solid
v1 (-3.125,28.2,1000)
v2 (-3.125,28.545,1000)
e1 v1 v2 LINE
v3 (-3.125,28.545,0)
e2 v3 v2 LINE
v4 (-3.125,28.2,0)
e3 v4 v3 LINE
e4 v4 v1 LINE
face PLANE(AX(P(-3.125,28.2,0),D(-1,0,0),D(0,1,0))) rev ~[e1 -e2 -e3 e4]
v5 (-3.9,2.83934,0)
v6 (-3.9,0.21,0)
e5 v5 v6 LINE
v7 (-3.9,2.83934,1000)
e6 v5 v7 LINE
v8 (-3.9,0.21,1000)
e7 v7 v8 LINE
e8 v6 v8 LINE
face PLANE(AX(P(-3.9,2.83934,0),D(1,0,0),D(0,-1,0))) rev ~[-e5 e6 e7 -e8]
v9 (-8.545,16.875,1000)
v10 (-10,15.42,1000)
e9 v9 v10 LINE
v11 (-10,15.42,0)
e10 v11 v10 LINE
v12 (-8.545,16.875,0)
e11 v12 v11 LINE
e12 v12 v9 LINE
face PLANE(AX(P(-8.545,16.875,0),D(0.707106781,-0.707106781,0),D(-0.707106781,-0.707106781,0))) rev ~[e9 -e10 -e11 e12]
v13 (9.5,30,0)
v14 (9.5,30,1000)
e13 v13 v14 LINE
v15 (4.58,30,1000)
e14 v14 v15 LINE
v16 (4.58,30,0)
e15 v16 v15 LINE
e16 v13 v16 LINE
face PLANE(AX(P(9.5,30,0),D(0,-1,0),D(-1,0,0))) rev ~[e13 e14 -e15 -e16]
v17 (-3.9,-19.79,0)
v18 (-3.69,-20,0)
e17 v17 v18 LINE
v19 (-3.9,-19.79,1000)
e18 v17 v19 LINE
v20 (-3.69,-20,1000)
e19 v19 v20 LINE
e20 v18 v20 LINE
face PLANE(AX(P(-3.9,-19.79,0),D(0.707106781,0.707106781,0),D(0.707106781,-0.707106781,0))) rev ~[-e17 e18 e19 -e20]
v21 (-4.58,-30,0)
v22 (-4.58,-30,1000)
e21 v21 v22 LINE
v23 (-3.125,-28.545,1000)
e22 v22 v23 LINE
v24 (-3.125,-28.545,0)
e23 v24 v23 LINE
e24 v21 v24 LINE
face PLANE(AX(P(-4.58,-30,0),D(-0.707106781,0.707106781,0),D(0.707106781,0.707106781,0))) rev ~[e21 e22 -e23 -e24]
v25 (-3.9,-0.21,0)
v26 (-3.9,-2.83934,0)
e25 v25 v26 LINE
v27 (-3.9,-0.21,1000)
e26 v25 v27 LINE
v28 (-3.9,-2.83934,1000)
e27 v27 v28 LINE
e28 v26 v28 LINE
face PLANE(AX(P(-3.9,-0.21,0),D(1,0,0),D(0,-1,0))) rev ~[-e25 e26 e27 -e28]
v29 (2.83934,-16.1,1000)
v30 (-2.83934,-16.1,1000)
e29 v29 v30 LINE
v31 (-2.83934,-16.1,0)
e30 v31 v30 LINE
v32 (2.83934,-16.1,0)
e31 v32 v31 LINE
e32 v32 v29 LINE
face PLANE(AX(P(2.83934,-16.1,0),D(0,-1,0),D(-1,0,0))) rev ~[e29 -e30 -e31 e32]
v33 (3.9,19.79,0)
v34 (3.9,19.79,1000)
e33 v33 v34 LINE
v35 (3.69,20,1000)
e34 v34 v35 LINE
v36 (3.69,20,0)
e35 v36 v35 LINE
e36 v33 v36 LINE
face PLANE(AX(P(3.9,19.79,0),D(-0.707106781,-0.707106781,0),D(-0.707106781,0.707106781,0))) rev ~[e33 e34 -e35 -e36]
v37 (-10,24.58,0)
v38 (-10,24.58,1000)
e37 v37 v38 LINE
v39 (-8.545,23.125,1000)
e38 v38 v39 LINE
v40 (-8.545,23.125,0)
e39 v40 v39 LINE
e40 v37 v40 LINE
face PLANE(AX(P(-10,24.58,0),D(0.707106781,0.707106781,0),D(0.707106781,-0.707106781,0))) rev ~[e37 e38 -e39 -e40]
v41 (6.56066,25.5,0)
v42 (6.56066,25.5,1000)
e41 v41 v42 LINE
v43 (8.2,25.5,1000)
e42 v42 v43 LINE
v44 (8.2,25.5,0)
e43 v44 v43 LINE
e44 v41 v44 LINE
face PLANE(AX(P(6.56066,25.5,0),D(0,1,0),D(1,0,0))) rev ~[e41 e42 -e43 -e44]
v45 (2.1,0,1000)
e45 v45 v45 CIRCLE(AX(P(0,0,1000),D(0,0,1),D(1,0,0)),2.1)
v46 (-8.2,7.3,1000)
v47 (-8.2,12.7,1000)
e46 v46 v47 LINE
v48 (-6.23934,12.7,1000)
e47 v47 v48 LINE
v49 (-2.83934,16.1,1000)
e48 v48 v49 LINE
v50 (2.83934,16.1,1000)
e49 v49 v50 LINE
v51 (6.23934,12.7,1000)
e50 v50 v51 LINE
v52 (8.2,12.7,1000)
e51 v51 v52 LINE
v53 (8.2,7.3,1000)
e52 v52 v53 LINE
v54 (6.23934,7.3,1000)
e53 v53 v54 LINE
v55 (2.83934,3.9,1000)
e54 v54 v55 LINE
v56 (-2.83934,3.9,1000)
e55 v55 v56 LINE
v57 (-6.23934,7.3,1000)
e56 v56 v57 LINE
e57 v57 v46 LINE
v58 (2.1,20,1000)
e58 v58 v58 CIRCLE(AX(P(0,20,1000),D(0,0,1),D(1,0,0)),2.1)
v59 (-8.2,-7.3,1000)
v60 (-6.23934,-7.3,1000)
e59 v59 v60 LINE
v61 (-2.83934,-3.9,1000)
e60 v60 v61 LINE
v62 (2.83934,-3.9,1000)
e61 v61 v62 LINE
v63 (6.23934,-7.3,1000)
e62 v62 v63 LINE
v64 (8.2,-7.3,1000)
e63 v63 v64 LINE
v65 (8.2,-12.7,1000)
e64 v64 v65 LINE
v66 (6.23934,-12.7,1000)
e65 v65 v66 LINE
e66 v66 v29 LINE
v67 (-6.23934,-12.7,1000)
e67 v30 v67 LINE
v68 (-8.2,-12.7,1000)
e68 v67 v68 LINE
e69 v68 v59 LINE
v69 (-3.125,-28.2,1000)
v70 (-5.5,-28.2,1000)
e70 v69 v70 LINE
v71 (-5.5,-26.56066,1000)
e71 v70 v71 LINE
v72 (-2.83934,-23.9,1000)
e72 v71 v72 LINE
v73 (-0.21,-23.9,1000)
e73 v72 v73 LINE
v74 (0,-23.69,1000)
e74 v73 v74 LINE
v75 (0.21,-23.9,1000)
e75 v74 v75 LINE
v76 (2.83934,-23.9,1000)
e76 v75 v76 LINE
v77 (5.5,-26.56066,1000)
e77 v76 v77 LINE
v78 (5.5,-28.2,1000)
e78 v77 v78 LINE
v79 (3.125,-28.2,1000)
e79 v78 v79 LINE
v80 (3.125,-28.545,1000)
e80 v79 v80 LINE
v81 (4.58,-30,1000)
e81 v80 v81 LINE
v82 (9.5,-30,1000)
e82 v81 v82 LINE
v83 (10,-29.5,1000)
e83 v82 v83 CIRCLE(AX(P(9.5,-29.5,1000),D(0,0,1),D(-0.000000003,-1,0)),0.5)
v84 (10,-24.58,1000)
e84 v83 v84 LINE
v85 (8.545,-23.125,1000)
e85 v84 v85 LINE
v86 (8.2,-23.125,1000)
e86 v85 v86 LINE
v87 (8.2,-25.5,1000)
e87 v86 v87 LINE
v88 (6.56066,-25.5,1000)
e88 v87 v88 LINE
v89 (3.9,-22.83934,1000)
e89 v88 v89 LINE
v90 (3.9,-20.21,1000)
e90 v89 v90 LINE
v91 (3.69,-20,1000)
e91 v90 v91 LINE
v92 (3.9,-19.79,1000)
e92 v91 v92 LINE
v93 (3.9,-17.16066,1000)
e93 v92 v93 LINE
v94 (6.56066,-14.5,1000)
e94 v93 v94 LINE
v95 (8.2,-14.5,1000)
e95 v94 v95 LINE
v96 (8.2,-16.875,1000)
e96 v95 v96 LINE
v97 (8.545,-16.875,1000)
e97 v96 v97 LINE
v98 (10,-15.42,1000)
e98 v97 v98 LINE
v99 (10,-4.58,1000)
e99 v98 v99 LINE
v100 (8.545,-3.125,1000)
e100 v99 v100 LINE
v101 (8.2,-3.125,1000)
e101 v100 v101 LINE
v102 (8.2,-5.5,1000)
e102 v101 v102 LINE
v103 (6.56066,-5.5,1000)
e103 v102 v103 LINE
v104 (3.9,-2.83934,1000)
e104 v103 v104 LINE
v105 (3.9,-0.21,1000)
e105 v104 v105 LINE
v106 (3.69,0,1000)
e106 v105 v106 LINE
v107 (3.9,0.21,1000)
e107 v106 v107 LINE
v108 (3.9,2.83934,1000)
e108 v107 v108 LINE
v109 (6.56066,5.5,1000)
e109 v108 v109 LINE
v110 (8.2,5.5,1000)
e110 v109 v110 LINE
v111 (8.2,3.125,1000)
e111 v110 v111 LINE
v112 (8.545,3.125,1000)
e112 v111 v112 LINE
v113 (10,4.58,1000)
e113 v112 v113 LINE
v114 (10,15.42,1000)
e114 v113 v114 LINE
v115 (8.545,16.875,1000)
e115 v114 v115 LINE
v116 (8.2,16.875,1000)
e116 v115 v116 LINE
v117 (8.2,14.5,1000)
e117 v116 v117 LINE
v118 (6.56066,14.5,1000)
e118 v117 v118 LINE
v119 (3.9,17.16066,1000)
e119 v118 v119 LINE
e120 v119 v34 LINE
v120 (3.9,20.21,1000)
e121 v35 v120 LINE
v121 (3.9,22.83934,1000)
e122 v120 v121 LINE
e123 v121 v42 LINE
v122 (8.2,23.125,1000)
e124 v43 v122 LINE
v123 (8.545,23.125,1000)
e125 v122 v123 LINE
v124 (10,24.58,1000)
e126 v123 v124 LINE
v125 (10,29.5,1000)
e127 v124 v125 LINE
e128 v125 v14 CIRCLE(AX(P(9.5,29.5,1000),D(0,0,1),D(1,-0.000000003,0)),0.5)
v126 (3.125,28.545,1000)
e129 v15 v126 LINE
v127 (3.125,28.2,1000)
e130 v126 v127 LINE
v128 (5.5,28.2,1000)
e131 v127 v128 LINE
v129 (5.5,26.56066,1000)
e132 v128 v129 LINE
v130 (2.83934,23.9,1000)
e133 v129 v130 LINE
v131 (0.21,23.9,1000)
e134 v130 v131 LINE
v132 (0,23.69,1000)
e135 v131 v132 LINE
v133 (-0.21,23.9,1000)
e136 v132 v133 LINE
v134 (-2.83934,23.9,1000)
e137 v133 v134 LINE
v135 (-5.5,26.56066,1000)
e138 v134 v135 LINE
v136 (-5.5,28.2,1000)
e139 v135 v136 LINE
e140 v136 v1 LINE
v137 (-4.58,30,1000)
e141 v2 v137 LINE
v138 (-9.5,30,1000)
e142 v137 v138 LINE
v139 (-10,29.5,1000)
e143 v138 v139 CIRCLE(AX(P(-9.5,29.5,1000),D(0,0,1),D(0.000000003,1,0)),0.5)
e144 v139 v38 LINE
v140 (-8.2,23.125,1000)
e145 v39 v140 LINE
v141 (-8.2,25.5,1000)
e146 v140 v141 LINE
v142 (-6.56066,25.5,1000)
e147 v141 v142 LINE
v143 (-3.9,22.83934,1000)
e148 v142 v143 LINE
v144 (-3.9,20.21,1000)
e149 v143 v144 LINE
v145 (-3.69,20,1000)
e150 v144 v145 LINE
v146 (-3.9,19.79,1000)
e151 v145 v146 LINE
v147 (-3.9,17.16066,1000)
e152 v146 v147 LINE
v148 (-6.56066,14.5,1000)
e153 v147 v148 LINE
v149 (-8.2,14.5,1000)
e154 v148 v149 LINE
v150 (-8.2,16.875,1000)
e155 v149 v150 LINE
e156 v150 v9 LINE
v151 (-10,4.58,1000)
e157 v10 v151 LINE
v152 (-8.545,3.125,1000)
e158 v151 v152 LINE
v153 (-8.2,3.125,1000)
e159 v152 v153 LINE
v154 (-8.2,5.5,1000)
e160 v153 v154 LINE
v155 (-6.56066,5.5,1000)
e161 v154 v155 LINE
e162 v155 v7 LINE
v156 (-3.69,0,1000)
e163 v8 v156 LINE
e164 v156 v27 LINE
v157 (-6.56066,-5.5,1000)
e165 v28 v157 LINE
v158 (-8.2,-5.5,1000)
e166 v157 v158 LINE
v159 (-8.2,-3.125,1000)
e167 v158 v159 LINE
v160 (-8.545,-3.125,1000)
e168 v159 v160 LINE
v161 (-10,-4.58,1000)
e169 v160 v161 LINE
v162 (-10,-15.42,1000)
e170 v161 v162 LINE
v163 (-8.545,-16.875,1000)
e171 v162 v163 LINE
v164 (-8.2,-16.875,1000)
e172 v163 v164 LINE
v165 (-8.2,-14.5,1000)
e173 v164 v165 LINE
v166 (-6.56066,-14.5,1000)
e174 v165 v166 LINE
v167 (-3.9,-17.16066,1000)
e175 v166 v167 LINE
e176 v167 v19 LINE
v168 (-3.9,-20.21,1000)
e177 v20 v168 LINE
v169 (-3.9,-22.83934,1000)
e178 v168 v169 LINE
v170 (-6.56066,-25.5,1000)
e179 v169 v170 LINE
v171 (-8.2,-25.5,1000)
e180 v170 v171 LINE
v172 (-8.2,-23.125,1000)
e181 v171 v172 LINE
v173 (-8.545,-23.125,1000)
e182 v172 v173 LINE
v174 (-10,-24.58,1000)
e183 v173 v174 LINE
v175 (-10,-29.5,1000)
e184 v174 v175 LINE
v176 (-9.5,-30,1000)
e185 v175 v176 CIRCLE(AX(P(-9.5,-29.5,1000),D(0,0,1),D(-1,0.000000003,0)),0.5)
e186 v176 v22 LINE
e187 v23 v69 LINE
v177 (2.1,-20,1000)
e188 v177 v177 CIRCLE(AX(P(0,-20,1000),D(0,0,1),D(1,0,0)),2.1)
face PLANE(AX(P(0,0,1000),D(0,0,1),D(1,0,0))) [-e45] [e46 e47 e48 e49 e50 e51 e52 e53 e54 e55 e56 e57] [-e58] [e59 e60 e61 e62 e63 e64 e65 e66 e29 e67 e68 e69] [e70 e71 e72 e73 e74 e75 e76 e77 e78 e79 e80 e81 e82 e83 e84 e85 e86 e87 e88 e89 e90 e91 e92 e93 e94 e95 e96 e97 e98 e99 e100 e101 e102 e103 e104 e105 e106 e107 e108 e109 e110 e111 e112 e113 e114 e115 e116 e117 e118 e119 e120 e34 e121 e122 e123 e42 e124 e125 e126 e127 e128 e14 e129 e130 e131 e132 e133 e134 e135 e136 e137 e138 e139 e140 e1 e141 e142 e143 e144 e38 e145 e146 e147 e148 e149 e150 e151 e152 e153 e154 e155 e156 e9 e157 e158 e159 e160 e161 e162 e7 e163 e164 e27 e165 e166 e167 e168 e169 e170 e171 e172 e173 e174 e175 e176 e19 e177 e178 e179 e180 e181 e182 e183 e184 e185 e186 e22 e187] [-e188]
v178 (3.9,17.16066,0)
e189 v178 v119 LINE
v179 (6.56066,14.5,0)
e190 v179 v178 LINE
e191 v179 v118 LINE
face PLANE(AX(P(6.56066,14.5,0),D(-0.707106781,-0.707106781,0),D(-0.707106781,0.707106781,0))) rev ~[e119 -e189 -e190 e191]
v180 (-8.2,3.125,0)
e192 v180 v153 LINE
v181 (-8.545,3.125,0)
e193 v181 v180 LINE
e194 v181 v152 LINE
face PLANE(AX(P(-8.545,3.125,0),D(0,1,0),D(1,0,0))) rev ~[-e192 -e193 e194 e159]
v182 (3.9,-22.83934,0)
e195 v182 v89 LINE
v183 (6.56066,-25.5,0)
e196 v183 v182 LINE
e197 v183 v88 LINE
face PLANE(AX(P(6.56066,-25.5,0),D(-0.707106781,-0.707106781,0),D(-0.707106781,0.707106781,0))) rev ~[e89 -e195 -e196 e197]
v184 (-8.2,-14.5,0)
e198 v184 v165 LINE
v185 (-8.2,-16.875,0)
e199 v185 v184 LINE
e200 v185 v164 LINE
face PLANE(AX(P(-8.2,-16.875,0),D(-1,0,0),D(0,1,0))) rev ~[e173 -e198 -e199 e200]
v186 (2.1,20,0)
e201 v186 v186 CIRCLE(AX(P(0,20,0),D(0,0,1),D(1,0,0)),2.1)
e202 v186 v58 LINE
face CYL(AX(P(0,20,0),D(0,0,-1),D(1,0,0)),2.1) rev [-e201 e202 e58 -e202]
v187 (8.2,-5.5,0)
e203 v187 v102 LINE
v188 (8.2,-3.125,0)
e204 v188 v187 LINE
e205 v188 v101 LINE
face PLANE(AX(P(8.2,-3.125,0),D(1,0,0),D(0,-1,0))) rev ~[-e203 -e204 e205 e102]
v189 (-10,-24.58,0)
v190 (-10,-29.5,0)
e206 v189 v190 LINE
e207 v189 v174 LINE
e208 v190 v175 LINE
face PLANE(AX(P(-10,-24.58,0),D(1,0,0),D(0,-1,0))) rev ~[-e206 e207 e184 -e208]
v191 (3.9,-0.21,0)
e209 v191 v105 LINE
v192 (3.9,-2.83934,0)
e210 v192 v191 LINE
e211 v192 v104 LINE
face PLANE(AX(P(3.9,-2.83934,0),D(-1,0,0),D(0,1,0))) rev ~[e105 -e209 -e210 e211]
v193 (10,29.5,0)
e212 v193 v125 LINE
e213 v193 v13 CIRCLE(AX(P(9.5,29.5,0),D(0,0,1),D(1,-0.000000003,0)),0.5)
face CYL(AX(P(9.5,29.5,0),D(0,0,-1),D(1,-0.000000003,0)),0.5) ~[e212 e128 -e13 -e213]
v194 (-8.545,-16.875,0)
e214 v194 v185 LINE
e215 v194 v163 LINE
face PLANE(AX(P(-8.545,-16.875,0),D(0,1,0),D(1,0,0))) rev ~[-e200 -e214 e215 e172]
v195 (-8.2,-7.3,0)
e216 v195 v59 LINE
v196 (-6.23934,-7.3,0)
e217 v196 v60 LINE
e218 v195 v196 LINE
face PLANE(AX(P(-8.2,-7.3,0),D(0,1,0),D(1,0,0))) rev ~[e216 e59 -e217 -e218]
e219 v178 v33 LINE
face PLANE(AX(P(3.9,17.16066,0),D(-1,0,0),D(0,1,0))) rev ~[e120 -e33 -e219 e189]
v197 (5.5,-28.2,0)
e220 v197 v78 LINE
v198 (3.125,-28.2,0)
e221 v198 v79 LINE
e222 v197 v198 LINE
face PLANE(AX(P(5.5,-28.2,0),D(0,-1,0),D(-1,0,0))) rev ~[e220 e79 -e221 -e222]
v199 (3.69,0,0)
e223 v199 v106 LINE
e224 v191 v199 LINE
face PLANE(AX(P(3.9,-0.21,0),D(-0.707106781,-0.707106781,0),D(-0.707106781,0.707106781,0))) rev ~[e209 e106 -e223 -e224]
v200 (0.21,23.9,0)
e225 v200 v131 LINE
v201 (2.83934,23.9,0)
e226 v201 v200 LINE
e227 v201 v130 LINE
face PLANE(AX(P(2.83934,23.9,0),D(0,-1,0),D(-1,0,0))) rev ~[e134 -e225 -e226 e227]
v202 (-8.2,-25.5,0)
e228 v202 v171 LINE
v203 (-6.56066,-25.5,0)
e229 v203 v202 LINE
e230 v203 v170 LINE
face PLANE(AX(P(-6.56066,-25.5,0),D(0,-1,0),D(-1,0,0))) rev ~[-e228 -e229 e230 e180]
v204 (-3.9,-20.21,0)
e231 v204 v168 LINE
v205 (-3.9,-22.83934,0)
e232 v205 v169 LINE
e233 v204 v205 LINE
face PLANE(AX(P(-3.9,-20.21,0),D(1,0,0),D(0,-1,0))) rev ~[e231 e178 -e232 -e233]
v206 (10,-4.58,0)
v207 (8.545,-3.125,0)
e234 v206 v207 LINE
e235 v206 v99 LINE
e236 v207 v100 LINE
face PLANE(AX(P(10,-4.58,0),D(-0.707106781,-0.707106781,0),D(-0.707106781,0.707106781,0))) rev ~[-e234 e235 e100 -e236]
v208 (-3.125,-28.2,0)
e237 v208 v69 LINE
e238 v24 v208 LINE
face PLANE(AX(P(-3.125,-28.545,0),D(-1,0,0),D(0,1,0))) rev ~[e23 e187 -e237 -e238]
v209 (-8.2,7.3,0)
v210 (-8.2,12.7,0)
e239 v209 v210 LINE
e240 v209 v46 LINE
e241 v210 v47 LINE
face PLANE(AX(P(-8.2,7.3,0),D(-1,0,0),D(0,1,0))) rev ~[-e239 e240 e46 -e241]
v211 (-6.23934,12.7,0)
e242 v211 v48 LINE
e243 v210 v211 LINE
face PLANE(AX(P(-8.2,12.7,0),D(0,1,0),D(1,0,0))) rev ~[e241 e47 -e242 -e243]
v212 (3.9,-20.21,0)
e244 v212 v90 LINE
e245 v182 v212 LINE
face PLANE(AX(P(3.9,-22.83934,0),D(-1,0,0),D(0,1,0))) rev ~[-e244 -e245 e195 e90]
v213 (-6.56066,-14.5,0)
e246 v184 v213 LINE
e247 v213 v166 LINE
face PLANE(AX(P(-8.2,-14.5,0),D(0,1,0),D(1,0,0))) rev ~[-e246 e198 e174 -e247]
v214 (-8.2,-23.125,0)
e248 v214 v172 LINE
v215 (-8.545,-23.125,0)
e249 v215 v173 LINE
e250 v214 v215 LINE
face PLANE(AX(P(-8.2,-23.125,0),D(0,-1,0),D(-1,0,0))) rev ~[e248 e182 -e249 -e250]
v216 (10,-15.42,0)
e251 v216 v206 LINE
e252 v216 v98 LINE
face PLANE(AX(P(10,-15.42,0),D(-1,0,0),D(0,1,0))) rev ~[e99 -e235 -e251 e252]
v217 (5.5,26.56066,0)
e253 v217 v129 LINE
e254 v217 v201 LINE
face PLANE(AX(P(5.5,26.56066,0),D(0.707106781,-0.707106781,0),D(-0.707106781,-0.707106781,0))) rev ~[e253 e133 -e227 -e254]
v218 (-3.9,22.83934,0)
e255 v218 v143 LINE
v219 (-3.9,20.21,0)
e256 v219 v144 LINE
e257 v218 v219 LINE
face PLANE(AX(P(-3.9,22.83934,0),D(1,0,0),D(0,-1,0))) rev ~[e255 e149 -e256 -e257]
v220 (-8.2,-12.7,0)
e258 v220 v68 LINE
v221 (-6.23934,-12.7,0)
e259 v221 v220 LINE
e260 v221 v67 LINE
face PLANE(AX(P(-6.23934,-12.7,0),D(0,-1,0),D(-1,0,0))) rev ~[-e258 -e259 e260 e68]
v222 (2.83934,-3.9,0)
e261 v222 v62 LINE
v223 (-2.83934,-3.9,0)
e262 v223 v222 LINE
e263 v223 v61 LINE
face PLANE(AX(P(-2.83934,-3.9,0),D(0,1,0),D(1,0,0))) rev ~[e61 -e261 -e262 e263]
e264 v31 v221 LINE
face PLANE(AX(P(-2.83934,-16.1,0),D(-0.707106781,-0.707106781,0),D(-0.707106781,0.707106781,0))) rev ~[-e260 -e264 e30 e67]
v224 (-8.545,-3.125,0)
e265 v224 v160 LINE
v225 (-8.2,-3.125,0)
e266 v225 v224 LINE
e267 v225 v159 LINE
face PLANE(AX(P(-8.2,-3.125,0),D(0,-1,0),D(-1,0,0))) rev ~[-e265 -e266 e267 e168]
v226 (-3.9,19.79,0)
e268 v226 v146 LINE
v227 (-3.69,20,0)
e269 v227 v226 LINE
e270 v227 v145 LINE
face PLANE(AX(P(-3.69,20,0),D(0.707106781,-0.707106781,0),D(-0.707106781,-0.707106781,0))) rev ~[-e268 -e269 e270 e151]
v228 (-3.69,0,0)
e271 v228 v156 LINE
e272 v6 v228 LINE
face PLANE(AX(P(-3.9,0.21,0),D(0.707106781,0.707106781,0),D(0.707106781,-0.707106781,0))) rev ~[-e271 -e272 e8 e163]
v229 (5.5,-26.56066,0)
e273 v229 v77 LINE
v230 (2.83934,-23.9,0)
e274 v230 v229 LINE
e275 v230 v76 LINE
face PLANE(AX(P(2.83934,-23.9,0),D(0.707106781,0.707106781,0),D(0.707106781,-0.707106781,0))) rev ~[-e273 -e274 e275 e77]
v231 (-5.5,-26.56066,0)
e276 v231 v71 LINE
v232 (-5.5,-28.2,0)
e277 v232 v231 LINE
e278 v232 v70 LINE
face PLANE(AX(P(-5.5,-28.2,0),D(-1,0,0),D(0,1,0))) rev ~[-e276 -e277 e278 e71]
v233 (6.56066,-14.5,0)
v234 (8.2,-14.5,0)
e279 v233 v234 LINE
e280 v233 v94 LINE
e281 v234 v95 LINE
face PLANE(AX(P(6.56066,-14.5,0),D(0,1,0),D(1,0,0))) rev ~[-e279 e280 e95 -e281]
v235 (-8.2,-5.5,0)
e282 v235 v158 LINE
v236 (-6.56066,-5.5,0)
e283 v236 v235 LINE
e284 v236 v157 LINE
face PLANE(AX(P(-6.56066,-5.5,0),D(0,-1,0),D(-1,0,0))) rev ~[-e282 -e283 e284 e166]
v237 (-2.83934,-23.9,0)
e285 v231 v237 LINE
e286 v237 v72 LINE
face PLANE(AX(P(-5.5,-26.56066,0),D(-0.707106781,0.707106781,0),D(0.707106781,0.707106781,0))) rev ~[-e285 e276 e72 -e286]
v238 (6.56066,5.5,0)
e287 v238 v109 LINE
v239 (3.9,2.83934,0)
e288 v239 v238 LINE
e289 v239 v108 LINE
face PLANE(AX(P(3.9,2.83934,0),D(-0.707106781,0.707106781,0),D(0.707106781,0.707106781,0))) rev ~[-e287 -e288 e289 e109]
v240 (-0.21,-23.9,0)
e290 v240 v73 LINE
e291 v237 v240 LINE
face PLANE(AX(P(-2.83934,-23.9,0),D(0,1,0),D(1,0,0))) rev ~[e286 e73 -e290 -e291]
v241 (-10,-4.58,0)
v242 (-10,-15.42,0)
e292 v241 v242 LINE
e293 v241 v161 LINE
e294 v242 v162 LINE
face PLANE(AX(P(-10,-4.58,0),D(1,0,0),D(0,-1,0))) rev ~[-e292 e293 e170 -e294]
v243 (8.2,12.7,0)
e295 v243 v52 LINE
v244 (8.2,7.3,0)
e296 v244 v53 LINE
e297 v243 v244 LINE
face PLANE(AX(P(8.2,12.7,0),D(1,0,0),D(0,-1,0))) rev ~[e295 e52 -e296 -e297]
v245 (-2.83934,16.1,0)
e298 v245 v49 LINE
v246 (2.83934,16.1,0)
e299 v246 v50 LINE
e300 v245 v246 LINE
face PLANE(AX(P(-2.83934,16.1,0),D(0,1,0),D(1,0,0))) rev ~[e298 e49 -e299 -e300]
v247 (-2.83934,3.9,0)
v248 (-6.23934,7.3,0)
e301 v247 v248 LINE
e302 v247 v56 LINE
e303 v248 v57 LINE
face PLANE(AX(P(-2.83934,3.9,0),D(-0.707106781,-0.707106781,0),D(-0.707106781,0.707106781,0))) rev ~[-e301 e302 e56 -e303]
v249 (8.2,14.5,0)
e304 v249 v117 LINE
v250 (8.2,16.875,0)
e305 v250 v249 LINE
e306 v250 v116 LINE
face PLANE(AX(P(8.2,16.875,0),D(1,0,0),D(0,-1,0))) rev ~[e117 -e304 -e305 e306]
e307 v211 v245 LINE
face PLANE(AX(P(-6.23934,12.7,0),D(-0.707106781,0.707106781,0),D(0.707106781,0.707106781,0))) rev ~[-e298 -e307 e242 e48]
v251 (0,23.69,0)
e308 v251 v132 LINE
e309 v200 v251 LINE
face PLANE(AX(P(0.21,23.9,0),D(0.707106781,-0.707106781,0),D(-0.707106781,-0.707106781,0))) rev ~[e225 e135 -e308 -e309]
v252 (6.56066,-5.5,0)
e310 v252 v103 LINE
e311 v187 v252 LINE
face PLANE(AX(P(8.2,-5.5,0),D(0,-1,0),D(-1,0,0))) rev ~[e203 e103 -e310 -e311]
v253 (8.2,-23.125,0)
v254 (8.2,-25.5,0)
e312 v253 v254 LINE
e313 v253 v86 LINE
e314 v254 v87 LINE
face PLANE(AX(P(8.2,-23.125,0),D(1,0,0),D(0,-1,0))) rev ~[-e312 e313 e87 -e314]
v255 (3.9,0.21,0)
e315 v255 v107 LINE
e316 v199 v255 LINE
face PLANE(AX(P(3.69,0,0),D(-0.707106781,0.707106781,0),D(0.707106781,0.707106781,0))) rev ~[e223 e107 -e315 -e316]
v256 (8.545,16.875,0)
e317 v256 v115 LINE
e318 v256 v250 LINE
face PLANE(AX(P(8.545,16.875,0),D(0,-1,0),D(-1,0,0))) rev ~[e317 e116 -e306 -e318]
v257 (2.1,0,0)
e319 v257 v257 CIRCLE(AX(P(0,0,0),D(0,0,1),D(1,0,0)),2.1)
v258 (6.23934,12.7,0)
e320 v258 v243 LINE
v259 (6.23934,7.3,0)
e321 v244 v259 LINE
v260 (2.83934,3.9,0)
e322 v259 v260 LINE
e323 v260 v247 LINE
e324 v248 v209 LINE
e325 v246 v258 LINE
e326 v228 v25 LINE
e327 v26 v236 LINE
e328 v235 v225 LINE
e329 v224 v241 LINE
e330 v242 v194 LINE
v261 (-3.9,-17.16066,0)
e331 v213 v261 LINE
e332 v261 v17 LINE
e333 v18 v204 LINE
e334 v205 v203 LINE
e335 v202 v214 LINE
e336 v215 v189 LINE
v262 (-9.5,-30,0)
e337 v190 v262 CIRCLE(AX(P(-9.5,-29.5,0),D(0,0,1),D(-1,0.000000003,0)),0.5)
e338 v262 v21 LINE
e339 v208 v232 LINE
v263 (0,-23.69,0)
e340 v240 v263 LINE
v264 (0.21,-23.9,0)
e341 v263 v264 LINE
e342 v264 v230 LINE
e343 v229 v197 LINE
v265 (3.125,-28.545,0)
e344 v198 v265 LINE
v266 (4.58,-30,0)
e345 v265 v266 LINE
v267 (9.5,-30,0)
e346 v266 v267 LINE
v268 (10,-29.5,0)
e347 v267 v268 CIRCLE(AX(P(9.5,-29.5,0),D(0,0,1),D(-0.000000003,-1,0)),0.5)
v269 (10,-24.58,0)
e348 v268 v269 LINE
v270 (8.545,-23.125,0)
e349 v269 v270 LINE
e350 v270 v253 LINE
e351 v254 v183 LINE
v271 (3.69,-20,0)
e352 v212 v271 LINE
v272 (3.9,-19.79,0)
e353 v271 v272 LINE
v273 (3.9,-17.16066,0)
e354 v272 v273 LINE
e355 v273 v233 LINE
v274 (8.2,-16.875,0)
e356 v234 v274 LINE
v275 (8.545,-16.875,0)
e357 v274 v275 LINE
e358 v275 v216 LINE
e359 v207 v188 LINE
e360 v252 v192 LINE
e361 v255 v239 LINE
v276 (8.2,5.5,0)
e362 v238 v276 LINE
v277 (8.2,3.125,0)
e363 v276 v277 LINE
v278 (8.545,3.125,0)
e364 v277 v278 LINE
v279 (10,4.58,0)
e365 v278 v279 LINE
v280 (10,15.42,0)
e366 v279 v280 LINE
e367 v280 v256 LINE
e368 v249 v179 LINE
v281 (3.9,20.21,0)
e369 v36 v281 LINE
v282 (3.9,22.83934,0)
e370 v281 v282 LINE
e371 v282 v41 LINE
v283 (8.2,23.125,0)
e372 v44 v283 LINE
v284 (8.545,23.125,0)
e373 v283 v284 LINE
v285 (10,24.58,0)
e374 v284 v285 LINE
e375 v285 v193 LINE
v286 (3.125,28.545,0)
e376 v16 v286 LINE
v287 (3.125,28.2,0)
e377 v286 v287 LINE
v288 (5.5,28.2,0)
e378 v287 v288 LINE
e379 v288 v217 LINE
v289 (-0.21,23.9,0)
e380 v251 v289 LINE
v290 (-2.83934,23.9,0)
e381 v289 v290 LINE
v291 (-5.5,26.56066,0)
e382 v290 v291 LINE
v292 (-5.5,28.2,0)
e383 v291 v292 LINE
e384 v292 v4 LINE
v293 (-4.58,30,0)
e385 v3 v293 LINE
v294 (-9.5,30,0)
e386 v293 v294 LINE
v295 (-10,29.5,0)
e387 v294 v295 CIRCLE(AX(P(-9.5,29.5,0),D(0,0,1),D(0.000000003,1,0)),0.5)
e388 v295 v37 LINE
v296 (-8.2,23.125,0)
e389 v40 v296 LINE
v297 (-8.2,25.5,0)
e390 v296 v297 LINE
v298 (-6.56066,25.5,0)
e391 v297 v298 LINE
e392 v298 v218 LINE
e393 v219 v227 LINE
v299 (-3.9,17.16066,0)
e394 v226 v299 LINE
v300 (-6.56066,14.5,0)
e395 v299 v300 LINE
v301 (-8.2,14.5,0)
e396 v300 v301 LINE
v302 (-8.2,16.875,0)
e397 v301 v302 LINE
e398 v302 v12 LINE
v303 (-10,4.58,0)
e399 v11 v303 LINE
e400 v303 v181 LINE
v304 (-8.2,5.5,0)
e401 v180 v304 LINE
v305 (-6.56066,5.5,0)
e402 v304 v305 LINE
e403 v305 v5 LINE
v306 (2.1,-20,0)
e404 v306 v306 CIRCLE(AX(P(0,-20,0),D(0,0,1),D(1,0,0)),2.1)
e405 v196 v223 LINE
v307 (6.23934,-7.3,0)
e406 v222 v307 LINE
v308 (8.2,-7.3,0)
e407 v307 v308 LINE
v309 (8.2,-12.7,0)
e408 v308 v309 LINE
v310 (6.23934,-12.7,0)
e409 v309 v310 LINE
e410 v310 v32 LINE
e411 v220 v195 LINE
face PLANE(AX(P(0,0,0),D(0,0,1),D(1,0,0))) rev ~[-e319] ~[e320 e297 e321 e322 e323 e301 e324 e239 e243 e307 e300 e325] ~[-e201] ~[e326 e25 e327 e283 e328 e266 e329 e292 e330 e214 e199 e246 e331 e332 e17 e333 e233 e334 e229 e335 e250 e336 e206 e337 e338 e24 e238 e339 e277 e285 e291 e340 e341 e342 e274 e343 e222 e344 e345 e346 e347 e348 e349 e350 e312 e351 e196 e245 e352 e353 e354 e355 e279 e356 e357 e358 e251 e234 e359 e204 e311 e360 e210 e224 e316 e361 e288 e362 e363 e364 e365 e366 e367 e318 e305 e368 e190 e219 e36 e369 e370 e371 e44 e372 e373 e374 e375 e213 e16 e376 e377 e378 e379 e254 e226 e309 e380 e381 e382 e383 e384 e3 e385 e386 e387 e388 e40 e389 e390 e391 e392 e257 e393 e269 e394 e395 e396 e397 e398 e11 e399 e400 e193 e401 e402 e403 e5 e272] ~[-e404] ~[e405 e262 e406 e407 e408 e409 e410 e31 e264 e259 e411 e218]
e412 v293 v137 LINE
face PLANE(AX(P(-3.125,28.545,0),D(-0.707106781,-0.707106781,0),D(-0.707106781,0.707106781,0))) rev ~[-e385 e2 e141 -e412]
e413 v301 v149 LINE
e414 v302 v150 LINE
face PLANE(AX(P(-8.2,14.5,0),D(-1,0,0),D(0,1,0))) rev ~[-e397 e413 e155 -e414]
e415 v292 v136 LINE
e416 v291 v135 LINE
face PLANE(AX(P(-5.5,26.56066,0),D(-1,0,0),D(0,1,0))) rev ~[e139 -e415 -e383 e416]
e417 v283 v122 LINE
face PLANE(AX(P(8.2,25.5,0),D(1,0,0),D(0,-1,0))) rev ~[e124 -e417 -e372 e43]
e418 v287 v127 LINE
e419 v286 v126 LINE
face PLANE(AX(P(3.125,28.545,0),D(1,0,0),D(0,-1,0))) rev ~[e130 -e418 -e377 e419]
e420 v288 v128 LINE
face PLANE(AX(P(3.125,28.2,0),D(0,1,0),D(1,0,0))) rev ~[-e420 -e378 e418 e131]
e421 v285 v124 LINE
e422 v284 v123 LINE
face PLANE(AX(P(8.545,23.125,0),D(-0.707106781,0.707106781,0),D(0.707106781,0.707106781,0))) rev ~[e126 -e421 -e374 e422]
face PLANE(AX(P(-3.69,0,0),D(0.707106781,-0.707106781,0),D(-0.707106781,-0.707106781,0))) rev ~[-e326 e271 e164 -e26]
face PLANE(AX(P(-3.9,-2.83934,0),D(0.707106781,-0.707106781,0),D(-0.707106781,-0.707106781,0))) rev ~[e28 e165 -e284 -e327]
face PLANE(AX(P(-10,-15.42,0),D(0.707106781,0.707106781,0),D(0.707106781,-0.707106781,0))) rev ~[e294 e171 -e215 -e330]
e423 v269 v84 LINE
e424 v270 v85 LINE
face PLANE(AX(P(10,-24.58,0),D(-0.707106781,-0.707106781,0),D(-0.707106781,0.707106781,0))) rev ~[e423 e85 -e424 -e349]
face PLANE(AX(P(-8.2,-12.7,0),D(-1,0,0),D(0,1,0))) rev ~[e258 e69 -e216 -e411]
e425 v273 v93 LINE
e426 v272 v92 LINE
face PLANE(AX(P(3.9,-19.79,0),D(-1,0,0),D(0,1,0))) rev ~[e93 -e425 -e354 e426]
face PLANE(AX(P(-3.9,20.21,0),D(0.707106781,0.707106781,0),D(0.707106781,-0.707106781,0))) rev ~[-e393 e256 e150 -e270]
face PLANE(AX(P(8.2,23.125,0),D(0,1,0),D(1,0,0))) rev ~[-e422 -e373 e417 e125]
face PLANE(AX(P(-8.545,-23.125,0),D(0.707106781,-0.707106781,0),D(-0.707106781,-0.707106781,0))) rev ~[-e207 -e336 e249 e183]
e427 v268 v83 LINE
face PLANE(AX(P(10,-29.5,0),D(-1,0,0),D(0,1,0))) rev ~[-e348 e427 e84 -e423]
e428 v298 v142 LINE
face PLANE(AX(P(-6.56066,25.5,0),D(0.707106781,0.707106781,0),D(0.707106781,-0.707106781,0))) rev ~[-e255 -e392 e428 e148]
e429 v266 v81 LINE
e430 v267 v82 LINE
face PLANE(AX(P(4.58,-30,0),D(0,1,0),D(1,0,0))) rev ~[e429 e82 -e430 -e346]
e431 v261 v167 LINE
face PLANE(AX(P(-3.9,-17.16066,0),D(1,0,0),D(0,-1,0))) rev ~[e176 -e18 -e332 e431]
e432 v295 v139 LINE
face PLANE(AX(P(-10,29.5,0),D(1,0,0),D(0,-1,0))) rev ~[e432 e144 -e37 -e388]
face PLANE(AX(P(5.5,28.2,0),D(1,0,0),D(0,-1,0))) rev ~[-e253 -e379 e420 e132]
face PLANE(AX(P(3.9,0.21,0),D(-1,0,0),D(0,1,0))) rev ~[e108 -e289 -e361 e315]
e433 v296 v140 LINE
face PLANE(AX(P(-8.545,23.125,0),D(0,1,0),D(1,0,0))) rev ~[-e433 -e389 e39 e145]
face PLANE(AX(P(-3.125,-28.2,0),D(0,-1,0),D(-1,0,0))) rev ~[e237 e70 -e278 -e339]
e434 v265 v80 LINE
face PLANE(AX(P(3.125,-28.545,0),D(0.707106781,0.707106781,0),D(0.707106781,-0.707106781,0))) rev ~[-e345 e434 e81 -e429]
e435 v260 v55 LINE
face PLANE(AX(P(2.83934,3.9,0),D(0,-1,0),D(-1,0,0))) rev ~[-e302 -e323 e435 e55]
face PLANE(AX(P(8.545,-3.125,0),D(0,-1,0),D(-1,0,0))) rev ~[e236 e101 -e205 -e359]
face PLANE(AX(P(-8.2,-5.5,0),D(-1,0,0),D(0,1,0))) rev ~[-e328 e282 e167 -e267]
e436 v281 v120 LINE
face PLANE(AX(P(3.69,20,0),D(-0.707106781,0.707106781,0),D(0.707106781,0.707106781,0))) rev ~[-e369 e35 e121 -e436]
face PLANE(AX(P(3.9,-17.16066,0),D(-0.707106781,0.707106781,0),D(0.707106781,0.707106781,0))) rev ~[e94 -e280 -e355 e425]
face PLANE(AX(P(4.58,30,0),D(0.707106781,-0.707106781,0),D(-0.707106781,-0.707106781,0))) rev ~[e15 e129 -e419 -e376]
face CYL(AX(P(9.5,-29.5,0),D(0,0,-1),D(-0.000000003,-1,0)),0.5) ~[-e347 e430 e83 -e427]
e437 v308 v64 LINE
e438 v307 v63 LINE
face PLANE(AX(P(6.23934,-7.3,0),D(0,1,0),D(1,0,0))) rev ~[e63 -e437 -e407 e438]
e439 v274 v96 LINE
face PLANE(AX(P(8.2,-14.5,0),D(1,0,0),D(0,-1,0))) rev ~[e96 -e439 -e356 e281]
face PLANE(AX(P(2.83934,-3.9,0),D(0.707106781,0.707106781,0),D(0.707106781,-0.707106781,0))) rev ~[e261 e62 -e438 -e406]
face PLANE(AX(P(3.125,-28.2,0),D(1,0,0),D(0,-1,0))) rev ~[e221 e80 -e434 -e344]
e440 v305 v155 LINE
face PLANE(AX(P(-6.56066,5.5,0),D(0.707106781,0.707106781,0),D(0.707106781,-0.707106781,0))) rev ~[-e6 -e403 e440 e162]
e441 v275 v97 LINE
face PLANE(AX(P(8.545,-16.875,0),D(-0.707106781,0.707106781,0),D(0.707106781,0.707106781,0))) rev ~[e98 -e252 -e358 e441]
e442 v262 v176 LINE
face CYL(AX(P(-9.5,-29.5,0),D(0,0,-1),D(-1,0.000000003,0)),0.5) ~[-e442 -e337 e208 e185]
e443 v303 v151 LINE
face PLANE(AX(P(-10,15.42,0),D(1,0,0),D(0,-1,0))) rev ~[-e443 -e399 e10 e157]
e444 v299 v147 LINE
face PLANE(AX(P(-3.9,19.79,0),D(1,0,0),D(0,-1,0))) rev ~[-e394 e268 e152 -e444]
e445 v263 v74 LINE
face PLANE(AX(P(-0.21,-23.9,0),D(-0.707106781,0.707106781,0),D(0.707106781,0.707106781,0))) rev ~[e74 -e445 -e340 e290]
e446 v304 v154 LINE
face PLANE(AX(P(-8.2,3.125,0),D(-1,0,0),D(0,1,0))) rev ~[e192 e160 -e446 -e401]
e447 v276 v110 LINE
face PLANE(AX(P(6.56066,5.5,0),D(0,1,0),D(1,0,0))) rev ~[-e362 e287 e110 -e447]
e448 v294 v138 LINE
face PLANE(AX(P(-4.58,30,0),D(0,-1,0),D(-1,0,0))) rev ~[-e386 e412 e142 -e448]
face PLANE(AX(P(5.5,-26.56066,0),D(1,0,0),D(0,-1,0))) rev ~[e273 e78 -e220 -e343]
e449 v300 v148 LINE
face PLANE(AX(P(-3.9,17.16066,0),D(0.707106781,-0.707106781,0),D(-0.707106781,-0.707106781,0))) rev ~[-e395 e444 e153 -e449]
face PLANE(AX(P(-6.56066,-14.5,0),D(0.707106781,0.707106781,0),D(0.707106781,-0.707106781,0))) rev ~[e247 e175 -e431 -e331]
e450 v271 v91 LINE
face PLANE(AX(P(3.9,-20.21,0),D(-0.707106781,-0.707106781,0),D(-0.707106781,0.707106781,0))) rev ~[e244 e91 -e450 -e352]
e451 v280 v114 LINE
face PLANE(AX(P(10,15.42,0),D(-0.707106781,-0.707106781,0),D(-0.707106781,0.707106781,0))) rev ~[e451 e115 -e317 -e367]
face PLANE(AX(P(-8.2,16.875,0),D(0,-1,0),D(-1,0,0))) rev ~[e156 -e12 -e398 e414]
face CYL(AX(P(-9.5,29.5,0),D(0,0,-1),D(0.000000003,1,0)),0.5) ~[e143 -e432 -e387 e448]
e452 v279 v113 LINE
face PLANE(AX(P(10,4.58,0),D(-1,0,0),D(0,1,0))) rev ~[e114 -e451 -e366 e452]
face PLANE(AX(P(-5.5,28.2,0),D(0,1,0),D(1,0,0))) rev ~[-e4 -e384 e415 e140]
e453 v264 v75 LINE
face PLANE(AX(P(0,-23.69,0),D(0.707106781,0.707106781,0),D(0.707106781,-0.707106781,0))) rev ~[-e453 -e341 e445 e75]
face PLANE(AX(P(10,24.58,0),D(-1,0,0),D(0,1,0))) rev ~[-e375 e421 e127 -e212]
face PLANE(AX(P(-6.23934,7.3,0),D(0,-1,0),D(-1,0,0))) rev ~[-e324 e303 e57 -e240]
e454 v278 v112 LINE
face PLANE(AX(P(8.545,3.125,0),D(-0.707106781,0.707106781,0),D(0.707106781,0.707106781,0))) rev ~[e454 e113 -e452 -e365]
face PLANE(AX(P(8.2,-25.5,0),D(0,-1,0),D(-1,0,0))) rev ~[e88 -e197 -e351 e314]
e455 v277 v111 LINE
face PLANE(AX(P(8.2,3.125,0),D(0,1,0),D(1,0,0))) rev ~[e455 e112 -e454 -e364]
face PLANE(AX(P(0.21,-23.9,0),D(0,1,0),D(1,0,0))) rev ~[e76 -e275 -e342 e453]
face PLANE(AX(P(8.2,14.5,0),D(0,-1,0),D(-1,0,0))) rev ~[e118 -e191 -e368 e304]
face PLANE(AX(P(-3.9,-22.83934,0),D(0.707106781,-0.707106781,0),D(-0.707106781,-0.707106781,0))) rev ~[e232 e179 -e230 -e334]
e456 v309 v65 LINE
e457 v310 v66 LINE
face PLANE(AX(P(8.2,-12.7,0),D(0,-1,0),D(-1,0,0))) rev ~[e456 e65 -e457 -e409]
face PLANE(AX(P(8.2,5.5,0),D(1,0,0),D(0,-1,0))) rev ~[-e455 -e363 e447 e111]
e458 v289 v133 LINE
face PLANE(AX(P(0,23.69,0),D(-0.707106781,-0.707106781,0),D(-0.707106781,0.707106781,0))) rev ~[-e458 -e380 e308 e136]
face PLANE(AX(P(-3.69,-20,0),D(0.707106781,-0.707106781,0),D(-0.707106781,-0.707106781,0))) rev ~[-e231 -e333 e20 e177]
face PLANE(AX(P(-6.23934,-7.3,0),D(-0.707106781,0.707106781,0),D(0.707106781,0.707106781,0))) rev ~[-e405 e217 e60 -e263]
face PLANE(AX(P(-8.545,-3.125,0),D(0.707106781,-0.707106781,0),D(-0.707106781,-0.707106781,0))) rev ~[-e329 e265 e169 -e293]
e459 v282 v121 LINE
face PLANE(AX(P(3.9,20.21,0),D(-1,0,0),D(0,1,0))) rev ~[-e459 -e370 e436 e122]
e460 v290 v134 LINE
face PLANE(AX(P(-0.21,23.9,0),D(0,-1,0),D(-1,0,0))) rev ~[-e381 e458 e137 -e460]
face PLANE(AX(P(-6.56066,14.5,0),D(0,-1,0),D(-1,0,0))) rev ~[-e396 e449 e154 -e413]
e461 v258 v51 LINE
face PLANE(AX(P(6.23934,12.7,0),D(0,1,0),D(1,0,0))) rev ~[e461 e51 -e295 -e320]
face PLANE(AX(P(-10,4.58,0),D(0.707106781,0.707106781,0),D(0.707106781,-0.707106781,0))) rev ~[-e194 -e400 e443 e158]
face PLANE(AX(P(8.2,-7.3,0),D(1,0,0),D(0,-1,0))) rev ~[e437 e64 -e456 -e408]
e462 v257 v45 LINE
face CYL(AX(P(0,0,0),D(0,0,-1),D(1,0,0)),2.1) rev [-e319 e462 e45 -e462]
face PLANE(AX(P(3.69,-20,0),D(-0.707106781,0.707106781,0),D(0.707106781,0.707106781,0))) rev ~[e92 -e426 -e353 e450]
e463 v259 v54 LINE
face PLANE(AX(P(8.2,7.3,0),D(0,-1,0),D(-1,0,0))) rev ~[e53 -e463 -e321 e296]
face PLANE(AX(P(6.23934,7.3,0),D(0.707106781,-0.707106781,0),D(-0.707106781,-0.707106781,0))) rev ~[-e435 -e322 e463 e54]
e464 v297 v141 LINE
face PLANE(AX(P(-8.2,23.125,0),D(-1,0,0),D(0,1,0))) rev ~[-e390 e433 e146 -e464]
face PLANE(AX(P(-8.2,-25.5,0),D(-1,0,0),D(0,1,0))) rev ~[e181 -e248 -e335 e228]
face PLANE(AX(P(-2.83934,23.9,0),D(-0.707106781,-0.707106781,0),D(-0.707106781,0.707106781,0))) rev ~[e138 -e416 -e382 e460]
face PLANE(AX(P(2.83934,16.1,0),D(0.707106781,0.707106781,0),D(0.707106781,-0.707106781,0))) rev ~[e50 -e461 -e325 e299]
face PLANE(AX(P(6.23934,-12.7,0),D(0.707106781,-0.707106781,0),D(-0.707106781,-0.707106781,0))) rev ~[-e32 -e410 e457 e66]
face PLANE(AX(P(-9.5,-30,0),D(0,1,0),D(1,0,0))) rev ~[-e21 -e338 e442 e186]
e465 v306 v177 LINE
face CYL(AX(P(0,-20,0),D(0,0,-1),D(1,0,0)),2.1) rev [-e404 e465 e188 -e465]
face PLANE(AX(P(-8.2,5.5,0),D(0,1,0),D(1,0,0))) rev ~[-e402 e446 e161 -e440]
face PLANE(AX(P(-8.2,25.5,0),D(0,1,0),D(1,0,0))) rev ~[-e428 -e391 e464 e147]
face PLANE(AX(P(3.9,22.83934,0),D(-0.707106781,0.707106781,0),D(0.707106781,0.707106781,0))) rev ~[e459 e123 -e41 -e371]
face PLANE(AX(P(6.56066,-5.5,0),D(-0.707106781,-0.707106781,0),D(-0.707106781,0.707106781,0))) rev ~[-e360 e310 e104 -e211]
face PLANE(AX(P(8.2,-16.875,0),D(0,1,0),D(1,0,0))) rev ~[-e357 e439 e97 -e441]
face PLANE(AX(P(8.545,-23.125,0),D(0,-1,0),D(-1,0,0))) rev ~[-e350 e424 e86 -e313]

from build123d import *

# Parameters (mm, degrees)
SKETCH1_R           = 2.1
BOSS_EXTRUDE1_DEPTH = 1000


with BuildPart() as part:
    # Sketch1 → Boss-Extrude1 (new body)
    with BuildSketch(Plane.XY):
        with BuildLine():
            Line((4.58, -30), (9.5, -30))
            ThreePointArc((9.5, -30), (9.853553391, -29.853553391), (10, -29.5))
            Line((10, -29.5), (10, -24.58))
            Line((10, -24.58), (8.545, -23.125))
            Line((8.545, -23.125), (8.2, -23.125))
            Line((8.2, -23.125), (8.2, -25.5))
            Line((8.2, -25.5), (6.560660172, -25.5))
            Line((6.560660172, -25.5), (3.9, -22.839339828))
            Line((3.9, -22.839339828), (3.9, -20.21))
            Line((3.9, -20.21), (3.69, -20))
            Line((3.69, -20), (3.9, -19.79))
            Line((3.9, -19.79), (3.9, -17.160660172))
            Line((3.9, -17.160660172), (6.560660172, -14.5))
            Line((6.560660172, -14.5), (8.2, -14.5))
            Line((8.2, -14.5), (8.2, -16.875))
            Line((8.2, -16.875), (8.545, -16.875))
            Line((8.545, -16.875), (10, -15.42))
            Line((10, -15.42), (10, -4.58))
            Line((10, -4.58), (8.545, -3.125))
            Line((8.545, -3.125), (8.2, -3.125))
            Line((8.2, -3.125), (8.2, -5.5))
            Line((8.2, -5.5), (6.560660172, -5.5))
            Line((6.560660172, -5.5), (3.9, -2.839339828))
            Line((3.9, -2.839339828), (3.9, -0.21))
            Line((3.9, -0.21), (3.69, 0))
            Line((3.69, 0), (3.9, 0.21))
            Line((3.9, 0.21), (3.9, 2.839339828))
            Line((3.9, 2.839339828), (6.560660172, 5.5))
            Line((6.560660172, 5.5), (8.2, 5.5))
            Line((8.2, 5.5), (8.2, 3.125))
            Line((8.2, 3.125), (8.545, 3.125))
            Line((8.545, 3.125), (10, 4.58))
            Line((10, 4.58), (10, 15.42))
            Line((10, 15.42), (8.545, 16.875))
            Line((8.545, 16.875), (8.2, 16.875))
            Line((8.2, 16.875), (8.2, 14.5))
            Line((8.2, 14.5), (6.560660172, 14.5))
            Line((6.560660172, 14.5), (3.9, 17.160660172))
            Line((3.9, 17.160660172), (3.9, 19.79))
            Line((3.9, 19.79), (3.69, 20))
            Line((3.69, 20), (3.9, 20.21))
            Line((3.9, 20.21), (3.9, 22.839339828))
            Line((3.9, 22.839339828), (6.560660172, 25.5))
            Line((6.560660172, 25.5), (8.2, 25.5))
            Line((8.2, 25.5), (8.2, 23.125))
            Line((8.2, 23.125), (8.545, 23.125))
            Line((8.545, 23.125), (10, 24.58))
            Line((10, 24.58), (10, 29.5))
            ThreePointArc((10, 29.5), (9.853553391, 29.853553391), (9.5, 30))
            Line((9.5, 30), (4.58, 30))
            Line((4.58, 30), (3.125, 28.545))
            Line((3.125, 28.545), (3.125, 28.2))
            Line((3.125, 28.2), (5.5, 28.2))
            Line((5.5, 28.2), (5.5, 26.560660172))
            Line((5.5, 26.560660172), (2.839339828, 23.9))
            Line((2.839339828, 23.9), (0.21, 23.9))
            Line((0.21, 23.9), (0, 23.69))
            Line((0, 23.69), (-0.21, 23.9))
            Line((-0.21, 23.9), (-2.839339828, 23.9))
            Line((-2.839339828, 23.9), (-5.5, 26.560660172))
            Line((-5.5, 26.560660172), (-5.5, 28.2))
            Line((-5.5, 28.2), (-3.125, 28.2))
            Line((-3.125, 28.2), (-3.125, 28.545))
            Line((-3.125, 28.545), (-4.58, 30))
            Line((-4.58, 30), (-9.5, 30))
            ThreePointArc((-9.5, 30), (-9.853553391, 29.853553391), (-10, 29.5))
            Line((-10, 29.5), (-10, 24.58))
            Line((-10, 24.58), (-8.545, 23.125))
            Line((-8.545, 23.125), (-8.2, 23.125))
            Line((-8.2, 23.125), (-8.2, 25.5))
            Line((-8.2, 25.5), (-6.560660172, 25.5))
            Line((-6.560660172, 25.5), (-3.9, 22.839339828))
            Line((-3.9, 22.839339828), (-3.9, 20.21))
            Line((-3.9, 20.21), (-3.69, 20))
            Line((-3.69, 20), (-3.9, 19.79))
            Line((-3.9, 19.79), (-3.9, 17.160660172))
            Line((-3.9, 17.160660172), (-6.560660172, 14.5))
            Line((-6.560660172, 14.5), (-8.2, 14.5))
            Line((-8.2, 14.5), (-8.2, 16.875))
            Line((-8.2, 16.875), (-8.545, 16.875))
            Line((-8.545, 16.875), (-10, 15.42))
            Line((-10, 15.42), (-10, 4.58))
            Line((-10, 4.58), (-8.545, 3.125))
            Line((-8.545, 3.125), (-8.2, 3.125))
            Line((-8.2, 3.125), (-8.2, 5.5))
            Line((-8.2, 5.5), (-6.560660172, 5.5))
            Line((-6.560660172, 5.5), (-3.9, 2.839339828))
            Line((-3.9, 2.839339828), (-3.9, 0.21))
            Line((-3.9, 0.21), (-3.69, 0))
            Line((-3.69, 0), (-3.9, -0.21))
            Line((-3.9, -0.21), (-3.9, -2.839339828))
            Line((-3.9, -2.839339828), (-6.560660172, -5.5))
            Line((-6.560660172, -5.5), (-8.2, -5.5))
            Line((-8.2, -5.5), (-8.2, -3.125))
            Line((-8.2, -3.125), (-8.545, -3.125))
            Line((-8.545, -3.125), (-10, -4.58))
            Line((-10, -4.58), (-10, -15.42))
            Line((-10, -15.42), (-8.545, -16.875))
            Line((-8.545, -16.875), (-8.2, -16.875))
            Line((-8.2, -16.875), (-8.2, -14.5))
            Line((-8.2, -14.5), (-6.560660172, -14.5))
            Line((-6.560660172, -14.5), (-3.9, -17.160660172))
            Line((-3.9, -17.160660172), (-3.9, -19.79))
            Line((-3.9, -19.79), (-3.69, -20))
            Line((-3.69, -20), (-3.9, -20.21))
            Line((-3.9, -20.21), (-3.9, -22.839339828))
            Line((-3.9, -22.839339828), (-6.560660172, -25.5))
            Line((-6.560660172, -25.5), (-8.2, -25.5))
            Line((-8.2, -25.5), (-8.2, -23.125))
            Line((-8.2, -23.125), (-8.545, -23.125))
            Line((-8.545, -23.125), (-10, -24.58))
            Line((-10, -24.58), (-10, -29.5))
            ThreePointArc((-10, -29.5), (-9.853553391, -29.853553391), (-9.5, -30))
            Line((-9.5, -30), (-4.58, -30))
            Line((-4.58, -30), (-3.125, -28.545))
            Line((-3.125, -28.545), (-3.125, -28.2))
            Line((-3.125, -28.2), (-5.5, -28.2))
            Line((-5.5, -28.2), (-5.5, -26.560660172))
            Line((-5.5, -26.560660172), (-2.839339828, -23.9))
            Line((-2.839339828, -23.9), (-0.21, -23.9))
            Line((-0.21, -23.9), (0, -23.69))
            Line((0, -23.69), (0.21, -23.9))
            Line((0.21, -23.9), (2.839339828, -23.9))
            Line((2.839339828, -23.9), (5.5, -26.560660172))
            Line((5.5, -26.560660172), (5.5, -28.2))
            Line((5.5, -28.2), (3.125, -28.2))
            Line((3.125, -28.2), (3.125, -28.545))
            Line((3.125, -28.545), (4.58, -30))
        make_face()
        with Locations((0, -20)):
            Circle(SKETCH1_R, mode=Mode.SUBTRACT)
        Polygon((-6.239339828, -12.7), (-8.2, -12.7), (-8.2, -7.3), (-6.239339828, -7.3), (-2.839339828, -3.9), (2.839339828, -3.9), (6.239339828, -7.3), (8.2, -7.3), (8.2, -12.7), (6.239339828, -12.7), (2.839339828, -16.1), (-2.839339828, -16.1), align=None, mode=Mode.SUBTRACT)
        Polygon((-6.239339828, 7.3), (-8.2, 7.3), (-8.2, 12.7), (-6.239339828, 12.7), (-2.839339828, 16.1), (2.839339828, 16.1), (6.239339828, 12.7), (8.2, 12.7), (8.2, 7.3), (6.239339828, 7.3), (2.839339828, 3.9), (-2.839339828, 3.9), align=None, mode=Mode.SUBTRACT)
        with Locations((0, 20)):
            Circle(SKETCH1_R, mode=Mode.SUBTRACT)
        Circle(SKETCH1_R, mode=Mode.SUBTRACT)
    extrude(amount=BOSS_EXTRUDE1_DEPTH)


solid = part.part
